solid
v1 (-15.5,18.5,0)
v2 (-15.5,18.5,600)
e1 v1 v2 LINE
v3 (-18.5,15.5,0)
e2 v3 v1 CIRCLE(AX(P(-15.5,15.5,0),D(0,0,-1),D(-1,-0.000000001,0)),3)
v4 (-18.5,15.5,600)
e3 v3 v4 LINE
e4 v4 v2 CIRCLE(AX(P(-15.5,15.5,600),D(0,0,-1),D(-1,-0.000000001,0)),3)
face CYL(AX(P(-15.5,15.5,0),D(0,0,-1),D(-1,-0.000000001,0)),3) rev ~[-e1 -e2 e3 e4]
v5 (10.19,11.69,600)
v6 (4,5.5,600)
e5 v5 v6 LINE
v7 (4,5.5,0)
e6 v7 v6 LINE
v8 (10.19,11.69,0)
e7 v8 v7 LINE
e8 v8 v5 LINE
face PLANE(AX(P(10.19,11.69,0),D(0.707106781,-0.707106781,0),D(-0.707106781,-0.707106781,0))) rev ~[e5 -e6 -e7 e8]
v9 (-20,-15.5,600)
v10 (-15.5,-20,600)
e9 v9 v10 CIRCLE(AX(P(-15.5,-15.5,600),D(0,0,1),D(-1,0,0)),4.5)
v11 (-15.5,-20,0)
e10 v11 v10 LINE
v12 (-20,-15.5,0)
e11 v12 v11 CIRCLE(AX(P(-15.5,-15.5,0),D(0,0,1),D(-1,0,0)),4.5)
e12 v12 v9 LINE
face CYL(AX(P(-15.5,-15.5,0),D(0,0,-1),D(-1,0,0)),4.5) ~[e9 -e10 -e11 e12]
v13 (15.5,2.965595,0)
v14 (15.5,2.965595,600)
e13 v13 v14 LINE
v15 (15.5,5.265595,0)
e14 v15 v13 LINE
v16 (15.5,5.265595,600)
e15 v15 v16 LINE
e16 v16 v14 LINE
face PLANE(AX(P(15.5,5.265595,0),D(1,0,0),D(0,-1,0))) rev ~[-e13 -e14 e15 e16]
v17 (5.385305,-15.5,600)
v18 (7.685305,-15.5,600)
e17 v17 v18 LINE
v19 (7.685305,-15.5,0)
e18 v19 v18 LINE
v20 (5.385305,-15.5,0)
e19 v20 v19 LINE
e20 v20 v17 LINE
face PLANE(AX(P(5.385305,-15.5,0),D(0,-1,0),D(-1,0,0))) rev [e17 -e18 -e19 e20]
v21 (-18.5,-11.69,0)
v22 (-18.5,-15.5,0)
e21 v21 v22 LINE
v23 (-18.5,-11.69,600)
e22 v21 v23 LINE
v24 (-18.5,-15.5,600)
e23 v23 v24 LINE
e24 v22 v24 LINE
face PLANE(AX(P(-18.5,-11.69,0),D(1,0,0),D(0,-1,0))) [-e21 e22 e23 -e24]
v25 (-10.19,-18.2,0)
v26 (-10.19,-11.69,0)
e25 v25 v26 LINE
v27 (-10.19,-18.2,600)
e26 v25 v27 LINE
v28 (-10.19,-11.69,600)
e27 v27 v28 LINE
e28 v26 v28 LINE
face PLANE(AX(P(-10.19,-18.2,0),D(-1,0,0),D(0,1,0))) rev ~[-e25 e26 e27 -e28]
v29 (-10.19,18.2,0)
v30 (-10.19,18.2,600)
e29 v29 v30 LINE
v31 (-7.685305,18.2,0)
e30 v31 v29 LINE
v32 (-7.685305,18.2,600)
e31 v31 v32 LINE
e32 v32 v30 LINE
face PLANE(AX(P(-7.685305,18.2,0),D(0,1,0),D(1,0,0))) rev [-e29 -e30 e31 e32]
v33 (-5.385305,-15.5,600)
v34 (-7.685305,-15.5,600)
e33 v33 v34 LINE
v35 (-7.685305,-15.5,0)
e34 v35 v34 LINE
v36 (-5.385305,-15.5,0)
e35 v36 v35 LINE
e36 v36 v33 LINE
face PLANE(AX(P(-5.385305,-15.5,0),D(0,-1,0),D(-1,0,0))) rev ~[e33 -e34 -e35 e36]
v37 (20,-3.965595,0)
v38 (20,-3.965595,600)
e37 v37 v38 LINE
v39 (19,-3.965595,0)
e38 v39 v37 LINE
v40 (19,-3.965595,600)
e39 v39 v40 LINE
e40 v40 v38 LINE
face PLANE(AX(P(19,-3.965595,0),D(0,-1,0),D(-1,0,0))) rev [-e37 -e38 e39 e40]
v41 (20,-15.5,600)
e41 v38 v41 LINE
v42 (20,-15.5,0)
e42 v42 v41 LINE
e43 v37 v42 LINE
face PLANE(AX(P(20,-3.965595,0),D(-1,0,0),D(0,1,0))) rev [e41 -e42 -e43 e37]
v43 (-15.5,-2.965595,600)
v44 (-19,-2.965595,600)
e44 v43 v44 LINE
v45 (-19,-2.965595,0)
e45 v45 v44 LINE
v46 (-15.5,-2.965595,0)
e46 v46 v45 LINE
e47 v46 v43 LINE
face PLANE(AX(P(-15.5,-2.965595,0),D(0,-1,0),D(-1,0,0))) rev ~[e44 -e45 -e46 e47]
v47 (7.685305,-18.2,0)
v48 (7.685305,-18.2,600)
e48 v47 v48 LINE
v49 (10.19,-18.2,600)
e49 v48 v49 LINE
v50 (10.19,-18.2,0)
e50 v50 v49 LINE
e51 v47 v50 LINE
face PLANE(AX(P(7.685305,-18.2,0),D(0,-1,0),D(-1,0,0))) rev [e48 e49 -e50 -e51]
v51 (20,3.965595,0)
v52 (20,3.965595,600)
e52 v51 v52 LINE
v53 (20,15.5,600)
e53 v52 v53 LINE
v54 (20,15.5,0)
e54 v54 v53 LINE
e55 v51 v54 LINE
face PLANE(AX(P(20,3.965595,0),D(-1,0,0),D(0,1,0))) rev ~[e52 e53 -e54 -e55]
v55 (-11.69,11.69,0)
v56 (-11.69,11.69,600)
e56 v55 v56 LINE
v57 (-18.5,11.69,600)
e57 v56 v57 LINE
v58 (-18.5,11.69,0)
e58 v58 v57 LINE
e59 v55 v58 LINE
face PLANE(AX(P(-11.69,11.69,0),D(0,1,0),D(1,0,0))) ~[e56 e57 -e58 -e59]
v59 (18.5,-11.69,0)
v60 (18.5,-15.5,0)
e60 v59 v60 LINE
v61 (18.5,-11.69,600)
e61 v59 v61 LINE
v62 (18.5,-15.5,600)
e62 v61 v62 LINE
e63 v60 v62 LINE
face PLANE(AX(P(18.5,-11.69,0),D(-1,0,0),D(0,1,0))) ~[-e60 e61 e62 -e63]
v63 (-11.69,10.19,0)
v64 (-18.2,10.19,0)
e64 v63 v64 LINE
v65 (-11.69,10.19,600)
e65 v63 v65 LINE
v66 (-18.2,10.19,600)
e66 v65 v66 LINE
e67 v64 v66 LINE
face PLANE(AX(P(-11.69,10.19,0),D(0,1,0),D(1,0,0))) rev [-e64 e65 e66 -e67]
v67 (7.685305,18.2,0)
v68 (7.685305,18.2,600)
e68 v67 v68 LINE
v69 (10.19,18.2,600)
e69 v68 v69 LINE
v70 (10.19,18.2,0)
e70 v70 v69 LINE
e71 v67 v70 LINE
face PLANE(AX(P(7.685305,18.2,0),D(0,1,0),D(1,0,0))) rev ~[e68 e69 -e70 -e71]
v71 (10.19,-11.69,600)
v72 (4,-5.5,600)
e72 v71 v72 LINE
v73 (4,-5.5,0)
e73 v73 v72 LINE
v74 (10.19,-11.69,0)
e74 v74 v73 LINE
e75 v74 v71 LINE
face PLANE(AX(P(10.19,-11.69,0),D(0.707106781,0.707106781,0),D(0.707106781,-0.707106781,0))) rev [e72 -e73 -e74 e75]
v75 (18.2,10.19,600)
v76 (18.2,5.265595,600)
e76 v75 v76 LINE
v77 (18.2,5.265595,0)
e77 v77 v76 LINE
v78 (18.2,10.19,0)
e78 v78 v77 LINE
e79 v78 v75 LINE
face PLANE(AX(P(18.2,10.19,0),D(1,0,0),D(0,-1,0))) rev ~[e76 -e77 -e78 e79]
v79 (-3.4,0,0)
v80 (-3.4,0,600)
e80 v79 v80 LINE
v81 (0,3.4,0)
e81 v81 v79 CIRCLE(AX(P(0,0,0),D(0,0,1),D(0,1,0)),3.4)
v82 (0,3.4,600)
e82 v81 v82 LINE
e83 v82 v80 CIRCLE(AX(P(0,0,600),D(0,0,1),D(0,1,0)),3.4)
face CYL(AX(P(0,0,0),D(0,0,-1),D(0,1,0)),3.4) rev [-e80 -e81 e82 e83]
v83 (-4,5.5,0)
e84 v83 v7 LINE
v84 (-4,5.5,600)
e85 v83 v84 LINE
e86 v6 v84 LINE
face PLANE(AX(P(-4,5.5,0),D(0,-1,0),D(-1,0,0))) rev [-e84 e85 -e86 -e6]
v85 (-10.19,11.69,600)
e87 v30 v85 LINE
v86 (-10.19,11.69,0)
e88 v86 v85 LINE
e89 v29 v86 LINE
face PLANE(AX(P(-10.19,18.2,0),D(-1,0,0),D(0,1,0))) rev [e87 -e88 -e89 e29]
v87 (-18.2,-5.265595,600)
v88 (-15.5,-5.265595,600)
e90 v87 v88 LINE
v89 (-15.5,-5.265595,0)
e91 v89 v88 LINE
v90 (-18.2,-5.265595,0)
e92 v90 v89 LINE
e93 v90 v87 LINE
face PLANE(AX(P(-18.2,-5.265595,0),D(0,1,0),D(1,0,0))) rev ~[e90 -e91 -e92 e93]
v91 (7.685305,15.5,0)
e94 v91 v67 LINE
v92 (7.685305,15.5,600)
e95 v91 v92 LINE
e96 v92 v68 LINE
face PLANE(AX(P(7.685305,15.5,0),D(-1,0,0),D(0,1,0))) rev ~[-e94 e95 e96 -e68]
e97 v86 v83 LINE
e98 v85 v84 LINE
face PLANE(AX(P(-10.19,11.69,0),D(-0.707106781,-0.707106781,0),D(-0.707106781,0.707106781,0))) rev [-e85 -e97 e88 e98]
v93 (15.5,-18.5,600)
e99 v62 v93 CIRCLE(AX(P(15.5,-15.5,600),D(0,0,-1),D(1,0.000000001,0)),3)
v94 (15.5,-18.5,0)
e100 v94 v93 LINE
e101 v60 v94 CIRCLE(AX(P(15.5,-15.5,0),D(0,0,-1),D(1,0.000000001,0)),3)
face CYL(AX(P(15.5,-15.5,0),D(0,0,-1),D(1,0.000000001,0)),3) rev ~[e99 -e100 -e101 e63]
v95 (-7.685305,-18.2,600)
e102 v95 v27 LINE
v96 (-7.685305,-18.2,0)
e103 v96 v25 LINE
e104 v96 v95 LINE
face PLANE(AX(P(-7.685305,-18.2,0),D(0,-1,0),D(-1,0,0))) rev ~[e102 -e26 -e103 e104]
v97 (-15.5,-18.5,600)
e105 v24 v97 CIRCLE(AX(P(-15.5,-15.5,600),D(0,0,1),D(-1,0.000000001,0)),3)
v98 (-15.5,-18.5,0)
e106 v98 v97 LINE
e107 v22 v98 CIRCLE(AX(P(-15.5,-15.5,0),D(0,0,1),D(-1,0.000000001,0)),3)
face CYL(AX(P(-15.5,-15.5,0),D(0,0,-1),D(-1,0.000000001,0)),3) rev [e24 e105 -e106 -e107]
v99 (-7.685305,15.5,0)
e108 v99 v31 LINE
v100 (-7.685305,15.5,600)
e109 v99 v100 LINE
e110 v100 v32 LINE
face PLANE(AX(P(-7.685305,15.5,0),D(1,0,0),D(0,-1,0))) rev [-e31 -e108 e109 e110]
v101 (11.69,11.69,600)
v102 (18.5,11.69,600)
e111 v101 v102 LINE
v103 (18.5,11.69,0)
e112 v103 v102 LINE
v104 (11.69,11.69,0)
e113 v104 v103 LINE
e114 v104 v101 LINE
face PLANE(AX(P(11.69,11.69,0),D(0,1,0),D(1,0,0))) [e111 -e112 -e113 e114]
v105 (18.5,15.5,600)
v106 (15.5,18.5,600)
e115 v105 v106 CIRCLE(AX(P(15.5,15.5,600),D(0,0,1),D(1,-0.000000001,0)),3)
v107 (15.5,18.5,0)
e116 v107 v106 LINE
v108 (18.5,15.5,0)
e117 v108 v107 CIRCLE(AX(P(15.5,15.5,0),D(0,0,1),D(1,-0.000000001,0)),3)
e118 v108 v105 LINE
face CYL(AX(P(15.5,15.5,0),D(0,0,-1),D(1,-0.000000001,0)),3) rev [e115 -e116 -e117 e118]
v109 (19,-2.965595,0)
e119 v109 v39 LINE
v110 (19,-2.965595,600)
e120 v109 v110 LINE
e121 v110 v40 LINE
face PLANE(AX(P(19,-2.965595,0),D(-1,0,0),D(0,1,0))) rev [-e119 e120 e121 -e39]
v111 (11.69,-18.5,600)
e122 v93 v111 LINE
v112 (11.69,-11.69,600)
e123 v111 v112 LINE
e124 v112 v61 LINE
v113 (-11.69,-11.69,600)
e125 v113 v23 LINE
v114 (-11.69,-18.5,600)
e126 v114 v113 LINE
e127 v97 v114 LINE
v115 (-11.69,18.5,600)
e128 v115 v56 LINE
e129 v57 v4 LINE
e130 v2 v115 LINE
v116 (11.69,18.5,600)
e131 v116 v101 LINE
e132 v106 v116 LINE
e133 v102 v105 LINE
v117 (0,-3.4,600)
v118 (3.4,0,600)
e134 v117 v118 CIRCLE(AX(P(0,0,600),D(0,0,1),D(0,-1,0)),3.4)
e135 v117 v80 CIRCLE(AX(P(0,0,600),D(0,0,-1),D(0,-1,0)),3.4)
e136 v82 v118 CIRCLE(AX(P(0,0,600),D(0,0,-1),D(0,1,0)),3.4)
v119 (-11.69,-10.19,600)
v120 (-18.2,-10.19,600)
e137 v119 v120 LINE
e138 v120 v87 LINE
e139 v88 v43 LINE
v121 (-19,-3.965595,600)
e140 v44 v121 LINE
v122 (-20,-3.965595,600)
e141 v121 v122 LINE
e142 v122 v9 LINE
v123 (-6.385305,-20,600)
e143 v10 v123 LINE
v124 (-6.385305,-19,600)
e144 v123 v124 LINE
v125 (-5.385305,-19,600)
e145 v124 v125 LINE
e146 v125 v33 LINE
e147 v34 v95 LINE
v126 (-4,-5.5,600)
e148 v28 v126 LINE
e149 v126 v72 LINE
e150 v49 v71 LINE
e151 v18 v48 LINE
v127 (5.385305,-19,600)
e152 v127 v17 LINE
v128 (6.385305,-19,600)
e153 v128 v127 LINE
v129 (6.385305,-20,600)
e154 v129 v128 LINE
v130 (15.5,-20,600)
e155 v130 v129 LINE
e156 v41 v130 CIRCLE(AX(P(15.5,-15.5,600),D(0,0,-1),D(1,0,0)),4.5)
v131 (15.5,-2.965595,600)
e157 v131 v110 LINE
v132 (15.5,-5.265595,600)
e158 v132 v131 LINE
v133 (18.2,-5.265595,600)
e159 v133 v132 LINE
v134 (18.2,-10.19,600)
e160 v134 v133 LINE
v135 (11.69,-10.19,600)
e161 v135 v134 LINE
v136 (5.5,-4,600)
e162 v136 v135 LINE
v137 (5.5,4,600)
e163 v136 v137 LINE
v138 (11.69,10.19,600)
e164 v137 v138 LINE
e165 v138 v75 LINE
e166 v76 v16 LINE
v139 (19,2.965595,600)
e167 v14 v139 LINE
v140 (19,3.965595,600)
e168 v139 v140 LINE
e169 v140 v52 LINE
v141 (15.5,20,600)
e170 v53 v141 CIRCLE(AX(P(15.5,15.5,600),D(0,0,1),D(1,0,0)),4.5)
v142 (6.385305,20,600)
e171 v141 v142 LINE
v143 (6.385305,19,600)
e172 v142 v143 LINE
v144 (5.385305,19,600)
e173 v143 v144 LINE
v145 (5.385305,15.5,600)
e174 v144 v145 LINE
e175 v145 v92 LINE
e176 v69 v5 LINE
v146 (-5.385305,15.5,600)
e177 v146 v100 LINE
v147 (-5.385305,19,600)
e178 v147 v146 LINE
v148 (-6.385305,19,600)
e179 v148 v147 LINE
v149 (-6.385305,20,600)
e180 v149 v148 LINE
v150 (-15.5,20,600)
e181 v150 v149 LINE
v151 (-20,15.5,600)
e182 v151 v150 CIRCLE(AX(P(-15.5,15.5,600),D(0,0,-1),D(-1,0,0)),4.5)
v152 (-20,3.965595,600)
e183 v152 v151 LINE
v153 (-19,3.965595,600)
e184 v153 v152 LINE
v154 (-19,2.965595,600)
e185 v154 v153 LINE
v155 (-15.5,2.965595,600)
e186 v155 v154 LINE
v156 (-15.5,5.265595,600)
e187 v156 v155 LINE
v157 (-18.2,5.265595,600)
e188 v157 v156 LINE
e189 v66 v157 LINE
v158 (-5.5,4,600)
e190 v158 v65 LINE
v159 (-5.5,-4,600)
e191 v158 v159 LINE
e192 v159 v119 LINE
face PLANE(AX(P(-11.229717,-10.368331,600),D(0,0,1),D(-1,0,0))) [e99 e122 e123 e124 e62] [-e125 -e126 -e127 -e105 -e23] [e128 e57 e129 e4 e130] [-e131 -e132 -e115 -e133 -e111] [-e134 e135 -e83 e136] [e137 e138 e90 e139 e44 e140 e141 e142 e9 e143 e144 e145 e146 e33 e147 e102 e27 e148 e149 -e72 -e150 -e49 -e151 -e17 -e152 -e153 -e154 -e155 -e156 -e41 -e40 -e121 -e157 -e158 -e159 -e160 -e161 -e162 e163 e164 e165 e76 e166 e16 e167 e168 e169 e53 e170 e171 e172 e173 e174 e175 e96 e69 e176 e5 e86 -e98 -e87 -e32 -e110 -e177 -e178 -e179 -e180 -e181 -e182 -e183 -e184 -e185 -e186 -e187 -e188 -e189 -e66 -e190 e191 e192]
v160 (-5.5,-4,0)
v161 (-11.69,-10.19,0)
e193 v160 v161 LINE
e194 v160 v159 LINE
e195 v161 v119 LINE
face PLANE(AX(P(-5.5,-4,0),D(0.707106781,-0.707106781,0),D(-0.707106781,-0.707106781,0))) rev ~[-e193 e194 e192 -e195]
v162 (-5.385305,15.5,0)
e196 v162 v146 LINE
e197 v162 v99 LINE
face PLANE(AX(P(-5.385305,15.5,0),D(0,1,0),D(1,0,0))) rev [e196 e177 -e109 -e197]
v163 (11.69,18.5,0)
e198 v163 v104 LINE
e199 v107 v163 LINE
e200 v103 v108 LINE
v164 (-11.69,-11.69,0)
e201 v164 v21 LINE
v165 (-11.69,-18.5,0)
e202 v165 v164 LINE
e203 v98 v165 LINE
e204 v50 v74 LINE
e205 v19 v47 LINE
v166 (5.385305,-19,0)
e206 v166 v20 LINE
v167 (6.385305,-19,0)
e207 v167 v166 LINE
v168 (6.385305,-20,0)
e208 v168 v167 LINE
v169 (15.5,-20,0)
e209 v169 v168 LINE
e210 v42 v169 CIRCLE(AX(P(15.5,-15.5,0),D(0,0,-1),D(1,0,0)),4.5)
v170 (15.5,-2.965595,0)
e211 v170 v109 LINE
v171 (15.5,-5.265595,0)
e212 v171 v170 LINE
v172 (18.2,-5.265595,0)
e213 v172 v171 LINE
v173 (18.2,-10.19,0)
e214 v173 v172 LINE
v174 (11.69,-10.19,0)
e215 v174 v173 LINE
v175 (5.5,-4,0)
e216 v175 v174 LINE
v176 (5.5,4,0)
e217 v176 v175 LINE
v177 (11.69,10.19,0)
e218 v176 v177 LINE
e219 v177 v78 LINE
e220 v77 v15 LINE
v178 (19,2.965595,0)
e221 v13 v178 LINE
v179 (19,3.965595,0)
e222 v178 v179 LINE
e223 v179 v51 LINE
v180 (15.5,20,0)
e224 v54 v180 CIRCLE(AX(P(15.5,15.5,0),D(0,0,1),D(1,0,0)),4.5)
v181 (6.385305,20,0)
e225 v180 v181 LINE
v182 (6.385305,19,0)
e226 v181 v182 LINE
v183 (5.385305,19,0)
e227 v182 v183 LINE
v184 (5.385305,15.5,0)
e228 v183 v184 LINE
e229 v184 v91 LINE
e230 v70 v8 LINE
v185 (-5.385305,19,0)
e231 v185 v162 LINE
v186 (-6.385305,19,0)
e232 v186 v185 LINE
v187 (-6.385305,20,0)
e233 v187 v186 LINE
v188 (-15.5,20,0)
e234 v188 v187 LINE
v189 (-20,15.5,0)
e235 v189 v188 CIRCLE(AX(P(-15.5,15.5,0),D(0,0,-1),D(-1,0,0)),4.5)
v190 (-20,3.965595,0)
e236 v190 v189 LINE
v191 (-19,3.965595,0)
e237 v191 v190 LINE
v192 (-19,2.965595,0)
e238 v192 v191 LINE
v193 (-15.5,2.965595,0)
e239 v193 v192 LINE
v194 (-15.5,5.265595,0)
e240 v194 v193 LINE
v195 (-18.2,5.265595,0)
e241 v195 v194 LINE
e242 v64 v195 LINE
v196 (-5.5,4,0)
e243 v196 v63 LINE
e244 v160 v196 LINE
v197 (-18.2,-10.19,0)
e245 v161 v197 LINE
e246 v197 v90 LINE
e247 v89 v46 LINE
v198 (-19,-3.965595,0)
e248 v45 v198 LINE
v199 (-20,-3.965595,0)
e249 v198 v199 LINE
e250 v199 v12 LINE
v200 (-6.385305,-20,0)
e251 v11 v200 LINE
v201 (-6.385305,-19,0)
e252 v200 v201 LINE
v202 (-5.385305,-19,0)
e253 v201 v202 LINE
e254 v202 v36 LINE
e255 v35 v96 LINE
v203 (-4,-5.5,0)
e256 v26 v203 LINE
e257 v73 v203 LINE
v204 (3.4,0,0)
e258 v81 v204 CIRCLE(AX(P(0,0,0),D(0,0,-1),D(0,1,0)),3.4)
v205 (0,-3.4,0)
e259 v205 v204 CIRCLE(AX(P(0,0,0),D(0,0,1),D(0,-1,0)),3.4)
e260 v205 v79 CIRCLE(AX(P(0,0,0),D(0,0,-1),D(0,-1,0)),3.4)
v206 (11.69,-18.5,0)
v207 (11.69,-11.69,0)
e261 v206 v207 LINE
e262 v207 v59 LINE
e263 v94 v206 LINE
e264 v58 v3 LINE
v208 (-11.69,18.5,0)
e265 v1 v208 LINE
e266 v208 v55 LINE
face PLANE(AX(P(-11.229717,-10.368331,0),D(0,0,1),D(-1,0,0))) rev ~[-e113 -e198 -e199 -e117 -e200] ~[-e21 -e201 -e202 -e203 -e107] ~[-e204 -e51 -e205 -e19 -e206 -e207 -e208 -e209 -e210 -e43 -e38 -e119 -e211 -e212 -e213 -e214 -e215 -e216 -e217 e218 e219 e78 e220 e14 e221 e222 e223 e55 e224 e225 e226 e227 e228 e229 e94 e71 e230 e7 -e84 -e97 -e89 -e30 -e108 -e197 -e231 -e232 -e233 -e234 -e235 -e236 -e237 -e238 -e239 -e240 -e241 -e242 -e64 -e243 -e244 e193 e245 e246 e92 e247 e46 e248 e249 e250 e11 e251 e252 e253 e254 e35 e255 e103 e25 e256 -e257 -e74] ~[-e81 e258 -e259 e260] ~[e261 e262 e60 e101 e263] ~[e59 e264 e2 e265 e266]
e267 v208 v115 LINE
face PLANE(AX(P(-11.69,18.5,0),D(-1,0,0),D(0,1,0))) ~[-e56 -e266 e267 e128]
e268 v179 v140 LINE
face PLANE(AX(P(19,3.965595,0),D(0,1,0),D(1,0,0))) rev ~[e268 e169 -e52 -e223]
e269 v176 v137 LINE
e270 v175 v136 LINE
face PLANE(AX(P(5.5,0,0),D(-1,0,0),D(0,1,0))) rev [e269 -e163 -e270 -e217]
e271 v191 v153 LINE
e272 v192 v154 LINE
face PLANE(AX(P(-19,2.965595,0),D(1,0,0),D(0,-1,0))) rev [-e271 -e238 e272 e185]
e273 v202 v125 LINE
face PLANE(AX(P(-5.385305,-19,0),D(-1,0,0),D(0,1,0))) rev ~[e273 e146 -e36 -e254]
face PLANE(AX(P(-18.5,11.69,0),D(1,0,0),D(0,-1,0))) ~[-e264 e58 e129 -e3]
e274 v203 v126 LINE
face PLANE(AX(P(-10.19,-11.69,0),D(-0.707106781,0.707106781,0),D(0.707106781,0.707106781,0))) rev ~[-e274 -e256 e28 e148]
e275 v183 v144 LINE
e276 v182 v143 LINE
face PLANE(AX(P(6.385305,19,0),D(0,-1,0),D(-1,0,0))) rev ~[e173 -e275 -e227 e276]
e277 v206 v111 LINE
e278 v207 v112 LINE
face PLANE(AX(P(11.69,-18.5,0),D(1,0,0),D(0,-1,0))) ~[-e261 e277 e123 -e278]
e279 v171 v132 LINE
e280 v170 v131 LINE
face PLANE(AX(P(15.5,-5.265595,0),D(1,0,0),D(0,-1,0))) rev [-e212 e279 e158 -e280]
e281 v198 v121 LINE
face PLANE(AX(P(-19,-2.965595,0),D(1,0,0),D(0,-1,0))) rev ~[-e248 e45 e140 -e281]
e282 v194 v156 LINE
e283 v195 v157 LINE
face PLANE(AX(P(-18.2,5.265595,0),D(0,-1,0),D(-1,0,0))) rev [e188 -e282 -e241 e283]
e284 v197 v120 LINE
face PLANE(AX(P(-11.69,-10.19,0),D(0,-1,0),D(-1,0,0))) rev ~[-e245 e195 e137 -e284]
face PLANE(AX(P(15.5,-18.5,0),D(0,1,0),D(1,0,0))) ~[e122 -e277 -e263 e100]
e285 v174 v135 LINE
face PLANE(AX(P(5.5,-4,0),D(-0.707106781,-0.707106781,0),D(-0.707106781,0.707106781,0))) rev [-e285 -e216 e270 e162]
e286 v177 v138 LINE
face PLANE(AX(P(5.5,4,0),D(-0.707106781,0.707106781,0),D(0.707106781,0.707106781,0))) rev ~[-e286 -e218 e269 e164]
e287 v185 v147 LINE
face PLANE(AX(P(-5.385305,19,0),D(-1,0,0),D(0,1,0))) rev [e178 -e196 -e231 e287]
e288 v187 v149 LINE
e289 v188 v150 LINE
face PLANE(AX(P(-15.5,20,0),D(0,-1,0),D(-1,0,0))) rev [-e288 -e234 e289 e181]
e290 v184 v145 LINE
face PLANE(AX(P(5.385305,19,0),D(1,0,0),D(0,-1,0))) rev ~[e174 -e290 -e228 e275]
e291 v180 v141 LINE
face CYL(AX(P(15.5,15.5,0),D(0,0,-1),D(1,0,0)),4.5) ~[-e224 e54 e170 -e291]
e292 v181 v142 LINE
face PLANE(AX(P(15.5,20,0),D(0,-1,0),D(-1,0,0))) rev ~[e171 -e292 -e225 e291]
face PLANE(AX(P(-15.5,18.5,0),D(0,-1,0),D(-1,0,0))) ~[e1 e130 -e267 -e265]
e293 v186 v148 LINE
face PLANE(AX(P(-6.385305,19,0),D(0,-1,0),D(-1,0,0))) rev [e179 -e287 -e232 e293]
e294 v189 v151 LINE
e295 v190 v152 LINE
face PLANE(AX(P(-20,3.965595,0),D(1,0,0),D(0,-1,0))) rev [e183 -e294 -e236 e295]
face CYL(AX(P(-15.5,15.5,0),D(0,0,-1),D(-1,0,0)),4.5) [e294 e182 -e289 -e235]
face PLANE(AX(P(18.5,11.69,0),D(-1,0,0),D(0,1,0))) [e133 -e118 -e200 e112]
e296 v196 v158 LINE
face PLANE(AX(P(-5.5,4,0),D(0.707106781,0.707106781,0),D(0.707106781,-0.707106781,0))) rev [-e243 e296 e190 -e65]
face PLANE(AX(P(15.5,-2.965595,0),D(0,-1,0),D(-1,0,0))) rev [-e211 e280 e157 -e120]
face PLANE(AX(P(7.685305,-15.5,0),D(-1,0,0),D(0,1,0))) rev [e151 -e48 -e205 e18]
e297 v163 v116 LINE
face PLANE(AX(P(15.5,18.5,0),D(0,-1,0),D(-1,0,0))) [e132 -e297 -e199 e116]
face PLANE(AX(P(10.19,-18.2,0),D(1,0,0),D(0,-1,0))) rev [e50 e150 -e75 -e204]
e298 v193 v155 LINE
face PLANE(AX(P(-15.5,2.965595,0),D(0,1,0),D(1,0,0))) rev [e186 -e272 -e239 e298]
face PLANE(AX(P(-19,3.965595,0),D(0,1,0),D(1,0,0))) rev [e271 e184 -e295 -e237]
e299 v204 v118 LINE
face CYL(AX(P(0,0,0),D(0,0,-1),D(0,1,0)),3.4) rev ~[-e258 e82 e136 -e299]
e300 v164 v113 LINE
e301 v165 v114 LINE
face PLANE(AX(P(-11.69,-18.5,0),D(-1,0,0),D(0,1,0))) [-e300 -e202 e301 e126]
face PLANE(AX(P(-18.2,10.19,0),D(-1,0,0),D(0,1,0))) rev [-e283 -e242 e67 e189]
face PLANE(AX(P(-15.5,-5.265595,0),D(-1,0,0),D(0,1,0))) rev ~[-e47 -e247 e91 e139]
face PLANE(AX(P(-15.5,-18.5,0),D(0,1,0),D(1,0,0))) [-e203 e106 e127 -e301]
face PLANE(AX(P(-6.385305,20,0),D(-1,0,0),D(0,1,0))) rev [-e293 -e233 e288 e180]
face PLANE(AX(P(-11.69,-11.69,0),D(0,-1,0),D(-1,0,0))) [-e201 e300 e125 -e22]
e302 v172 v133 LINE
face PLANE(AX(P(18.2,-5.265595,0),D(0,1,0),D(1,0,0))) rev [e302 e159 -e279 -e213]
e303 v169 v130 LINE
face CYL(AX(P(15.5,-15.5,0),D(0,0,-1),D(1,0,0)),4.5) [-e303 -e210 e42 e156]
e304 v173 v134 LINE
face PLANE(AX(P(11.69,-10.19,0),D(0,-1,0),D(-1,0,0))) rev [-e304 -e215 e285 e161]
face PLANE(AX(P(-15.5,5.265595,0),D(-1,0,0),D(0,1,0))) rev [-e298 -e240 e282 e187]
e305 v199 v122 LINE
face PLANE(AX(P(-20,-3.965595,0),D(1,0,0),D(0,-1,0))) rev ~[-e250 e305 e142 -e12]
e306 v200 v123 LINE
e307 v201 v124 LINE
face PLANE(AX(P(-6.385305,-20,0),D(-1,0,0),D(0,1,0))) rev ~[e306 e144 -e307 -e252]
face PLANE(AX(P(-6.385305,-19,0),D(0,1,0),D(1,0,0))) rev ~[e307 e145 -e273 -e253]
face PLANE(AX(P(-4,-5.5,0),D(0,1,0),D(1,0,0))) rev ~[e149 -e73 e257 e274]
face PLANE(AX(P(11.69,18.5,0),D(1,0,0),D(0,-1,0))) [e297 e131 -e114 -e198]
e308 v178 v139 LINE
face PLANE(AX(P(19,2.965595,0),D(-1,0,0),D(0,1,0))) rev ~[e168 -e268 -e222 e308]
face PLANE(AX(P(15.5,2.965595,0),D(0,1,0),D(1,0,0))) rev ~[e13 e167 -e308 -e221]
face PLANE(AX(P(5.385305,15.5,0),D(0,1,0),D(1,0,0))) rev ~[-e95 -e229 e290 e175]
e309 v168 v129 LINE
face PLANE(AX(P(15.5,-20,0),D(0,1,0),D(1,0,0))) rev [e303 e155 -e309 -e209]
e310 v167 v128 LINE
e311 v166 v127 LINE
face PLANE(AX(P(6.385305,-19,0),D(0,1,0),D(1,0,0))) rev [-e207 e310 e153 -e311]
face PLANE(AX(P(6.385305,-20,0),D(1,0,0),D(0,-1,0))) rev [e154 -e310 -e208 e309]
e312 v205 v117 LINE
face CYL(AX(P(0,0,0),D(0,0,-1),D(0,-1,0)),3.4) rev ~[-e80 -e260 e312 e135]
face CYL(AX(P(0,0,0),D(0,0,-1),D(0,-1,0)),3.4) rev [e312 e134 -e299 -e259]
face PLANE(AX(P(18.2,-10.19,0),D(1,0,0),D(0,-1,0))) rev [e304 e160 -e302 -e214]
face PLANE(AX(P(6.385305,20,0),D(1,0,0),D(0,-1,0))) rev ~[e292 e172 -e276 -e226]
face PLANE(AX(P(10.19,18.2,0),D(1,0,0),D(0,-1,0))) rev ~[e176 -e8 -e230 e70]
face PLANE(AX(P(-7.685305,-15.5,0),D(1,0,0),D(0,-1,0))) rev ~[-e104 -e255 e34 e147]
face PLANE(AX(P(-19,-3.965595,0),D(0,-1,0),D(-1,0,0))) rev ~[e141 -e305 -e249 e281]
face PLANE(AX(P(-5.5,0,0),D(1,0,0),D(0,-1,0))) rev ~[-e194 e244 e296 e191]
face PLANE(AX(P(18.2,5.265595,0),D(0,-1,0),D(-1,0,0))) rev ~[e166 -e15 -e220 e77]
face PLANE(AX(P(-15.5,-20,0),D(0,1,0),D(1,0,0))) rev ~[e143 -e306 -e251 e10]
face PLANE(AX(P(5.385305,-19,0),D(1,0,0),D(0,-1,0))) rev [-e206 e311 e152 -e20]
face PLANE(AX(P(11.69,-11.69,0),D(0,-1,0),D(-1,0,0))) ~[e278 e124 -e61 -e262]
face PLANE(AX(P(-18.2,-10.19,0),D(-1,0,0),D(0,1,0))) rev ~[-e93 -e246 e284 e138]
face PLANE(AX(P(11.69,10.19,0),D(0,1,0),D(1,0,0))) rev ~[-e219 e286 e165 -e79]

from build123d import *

# Parameters (mm, degrees)
BOSS_EXTRUDE1_DEPTH  = 600
MIRROR3_COPY_1_DEPTH = 600
MIRROR3_COPY_2_DEPTH = 600


with BuildPart() as part:
    # Sketch1 → Boss-Extrude1 (new body)
    with BuildSketch(Plane.XY):
        with BuildLine():
            Line((3.4, 0), (5.5, 0))
            Line((5.5, 0), (5.5, 4))
            Line((5.5, 4), (11.69, 10.19))
            Line((11.69, 10.19), (18.2, 10.19))
            Line((18.2, 10.19), (18.2, 5.265595036))
            Line((18.2, 5.265595036), (15.5, 5.265595036))
            Line((15.5, 5.265595036), (15.5, 2.965595036))
            Line((15.5, 2.965595036), (19, 2.965595036))
            Line((19, 2.965595036), (19, 3.965595036))
            Line((19, 3.965595036), (20, 3.965595036))
            Line((20, 3.965595036), (20, 15.5))
            ThreePointArc((20, 15.5), (18.681980515, 18.681980515), (15.5, 20))
            Line((15.5, 20), (6.385304712, 20))
            Line((6.385304712, 20), (6.385304712, 19))
            Line((6.385304712, 19), (5.385304712, 19))
            Line((5.385304712, 19), (5.385304712, 15.5))
            Line((5.385304712, 15.5), (7.685304712, 15.5))
            Line((7.685304712, 15.5), (7.685304712, 18.2))
            Line((7.685304712, 18.2), (10.19, 18.2))
            Line((10.19, 18.2), (10.19, 11.69))
            Line((10.19, 11.69), (4, 5.5))
            Line((4, 5.5), (0, 5.5))
            Line((0, 5.5), (0, 3.4))
            ThreePointArc((0, 3.4), (2.404163056, 2.404163056), (3.4, 0))
        make_face()
        with BuildLine():
            Line((18.5, 11.69), (18.5, 15.5))
            ThreePointArc((18.5, 15.5), (17.621320344, 17.621320344), (15.5, 18.5))
            Line((15.5, 18.5), (11.69, 18.5))
            Line((11.69, 18.5), (11.69, 11.69))
            Line((11.69, 11.69), (18.5, 11.69))
        make_face(mode=Mode.SUBTRACT)
    boss_extrude1 = extrude(amount=BOSS_EXTRUDE1_DEPTH)

    # Mirror1: Boss-Extrude1 across plane
    add(boss_extrude1.mirror(Plane.ZX))

    # Mirror2: Boss-Extrude1 across plane
    add(boss_extrude1.mirror(Plane(origin=(0, 0, 0), x_dir=(0, 0, 1), z_dir=(1, 0, 0))))

    # Mirror3 copy 1 sketch → Mirror3 copy 1 (add)
    with BuildSketch(Plane(origin=(0, 0, 0), x_dir=(-1, 0, 0), z_dir=(0, 0, 1))):
        with BuildLine():
            Line((3.4, 0), (5.5, 0))
            Line((5.5, 0), (5.5, 4))
            Line((5.5, 4), (11.69, 10.19))
            Line((11.69, 10.19), (18.2, 10.19))
            Line((18.2, 10.19), (18.2, 5.265595036))
            Line((18.2, 5.265595036), (15.5, 5.265595036))
            Line((15.5, 5.265595036), (15.5, 2.965595036))
            Line((15.5, 2.965595036), (19, 2.965595036))
            Line((19, 2.965595036), (19, 3.965595036))
            Line((19, 3.965595036), (20, 3.965595036))
            Line((20, 3.965595036), (20, 15.5))
            ThreePointArc((20, 15.5), (18.681980515, 18.681980515), (15.5, 20))
            Line((15.5, 20), (6.385304712, 20))
            Line((6.385304712, 20), (6.385304712, 19))
            Line((6.385304712, 19), (5.385304712, 19))
            Line((5.385304712, 19), (5.385304712, 15.5))
            Line((5.385304712, 15.5), (7.685304712, 15.5))
            Line((7.685304712, 15.5), (7.685304712, 18.2))
            Line((7.685304712, 18.2), (10.19, 18.2))
            Line((10.19, 18.2), (10.19, 11.69))
            Line((10.19, 11.69), (4, 5.5))
            Line((4, 5.5), (0, 5.5))
            Line((0, 5.5), (0, 3.4))
            ThreePointArc((0, 3.4), (2.404163056, 2.404163056), (3.4, 0))
        make_face()
        with BuildLine():
            Line((18.5, 11.69), (18.5, 15.5))
            ThreePointArc((18.5, 15.5), (17.621320344, 17.621320344), (15.5, 18.5))
            Line((15.5, 18.5), (11.69, 18.5))
            Line((11.69, 18.5), (11.69, 11.69))
            Line((11.69, 11.69), (18.5, 11.69))
        make_face(mode=Mode.SUBTRACT)
    extrude(amount=MIRROR3_COPY_1_DEPTH)

    # Mirror3 copy 2 sketch → Mirror3 copy 2 (add)
    with BuildSketch(Plane.XY):
        with BuildLine():
            Line((3.4, 0), (5.5, 0))
            Line((5.5, 0), (5.5, -4))
            Line((5.5, -4), (11.69, -10.19))
            Line((11.69, -10.19), (18.2, -10.19))
            Line((18.2, -10.19), (18.2, -5.265595036))
            Line((18.2, -5.265595036), (15.5, -5.265595036))
            Line((15.5, -5.265595036), (15.5, -2.965595036))
            Line((15.5, -2.965595036), (19, -2.965595036))
            Line((19, -2.965595036), (19, -3.965595036))
            Line((19, -3.965595036), (20, -3.965595036))
            Line((20, -3.965595036), (20, -15.5))
            ThreePointArc((20, -15.5), (18.681980515, -18.681980515), (15.5, -20))
            Line((15.5, -20), (6.385304712, -20))
            Line((6.385304712, -20), (6.385304712, -19))
            Line((6.385304712, -19), (5.385304712, -19))
            Line((5.385304712, -19), (5.385304712, -15.5))
            Line((5.385304712, -15.5), (7.685304712, -15.5))
            Line((7.685304712, -15.5), (7.685304712, -18.2))
            Line((7.685304712, -18.2), (10.19, -18.2))
            Line((10.19, -18.2), (10.19, -11.69))
            Line((10.19, -11.69), (4, -5.5))
            Line((4, -5.5), (0, -5.5))
            Line((0, -5.5), (0, -3.4))
            ThreePointArc((0, -3.4), (2.404163056, -2.404163056), (3.4, 0))
        make_face()
        with BuildLine():
            Line((18.5, -11.69), (18.5, -15.5))
            ThreePointArc((18.5, -15.5), (17.621320344, -17.621320344), (15.5, -18.5))
            Line((15.5, -18.5), (11.69, -18.5))
            Line((11.69, -18.5), (11.69, -11.69))
            Line((11.69, -11.69), (18.5, -11.69))
        make_face(mode=Mode.SUBTRACT)
    extrude(amount=MIRROR3_COPY_2_DEPTH)


solid = part.part
